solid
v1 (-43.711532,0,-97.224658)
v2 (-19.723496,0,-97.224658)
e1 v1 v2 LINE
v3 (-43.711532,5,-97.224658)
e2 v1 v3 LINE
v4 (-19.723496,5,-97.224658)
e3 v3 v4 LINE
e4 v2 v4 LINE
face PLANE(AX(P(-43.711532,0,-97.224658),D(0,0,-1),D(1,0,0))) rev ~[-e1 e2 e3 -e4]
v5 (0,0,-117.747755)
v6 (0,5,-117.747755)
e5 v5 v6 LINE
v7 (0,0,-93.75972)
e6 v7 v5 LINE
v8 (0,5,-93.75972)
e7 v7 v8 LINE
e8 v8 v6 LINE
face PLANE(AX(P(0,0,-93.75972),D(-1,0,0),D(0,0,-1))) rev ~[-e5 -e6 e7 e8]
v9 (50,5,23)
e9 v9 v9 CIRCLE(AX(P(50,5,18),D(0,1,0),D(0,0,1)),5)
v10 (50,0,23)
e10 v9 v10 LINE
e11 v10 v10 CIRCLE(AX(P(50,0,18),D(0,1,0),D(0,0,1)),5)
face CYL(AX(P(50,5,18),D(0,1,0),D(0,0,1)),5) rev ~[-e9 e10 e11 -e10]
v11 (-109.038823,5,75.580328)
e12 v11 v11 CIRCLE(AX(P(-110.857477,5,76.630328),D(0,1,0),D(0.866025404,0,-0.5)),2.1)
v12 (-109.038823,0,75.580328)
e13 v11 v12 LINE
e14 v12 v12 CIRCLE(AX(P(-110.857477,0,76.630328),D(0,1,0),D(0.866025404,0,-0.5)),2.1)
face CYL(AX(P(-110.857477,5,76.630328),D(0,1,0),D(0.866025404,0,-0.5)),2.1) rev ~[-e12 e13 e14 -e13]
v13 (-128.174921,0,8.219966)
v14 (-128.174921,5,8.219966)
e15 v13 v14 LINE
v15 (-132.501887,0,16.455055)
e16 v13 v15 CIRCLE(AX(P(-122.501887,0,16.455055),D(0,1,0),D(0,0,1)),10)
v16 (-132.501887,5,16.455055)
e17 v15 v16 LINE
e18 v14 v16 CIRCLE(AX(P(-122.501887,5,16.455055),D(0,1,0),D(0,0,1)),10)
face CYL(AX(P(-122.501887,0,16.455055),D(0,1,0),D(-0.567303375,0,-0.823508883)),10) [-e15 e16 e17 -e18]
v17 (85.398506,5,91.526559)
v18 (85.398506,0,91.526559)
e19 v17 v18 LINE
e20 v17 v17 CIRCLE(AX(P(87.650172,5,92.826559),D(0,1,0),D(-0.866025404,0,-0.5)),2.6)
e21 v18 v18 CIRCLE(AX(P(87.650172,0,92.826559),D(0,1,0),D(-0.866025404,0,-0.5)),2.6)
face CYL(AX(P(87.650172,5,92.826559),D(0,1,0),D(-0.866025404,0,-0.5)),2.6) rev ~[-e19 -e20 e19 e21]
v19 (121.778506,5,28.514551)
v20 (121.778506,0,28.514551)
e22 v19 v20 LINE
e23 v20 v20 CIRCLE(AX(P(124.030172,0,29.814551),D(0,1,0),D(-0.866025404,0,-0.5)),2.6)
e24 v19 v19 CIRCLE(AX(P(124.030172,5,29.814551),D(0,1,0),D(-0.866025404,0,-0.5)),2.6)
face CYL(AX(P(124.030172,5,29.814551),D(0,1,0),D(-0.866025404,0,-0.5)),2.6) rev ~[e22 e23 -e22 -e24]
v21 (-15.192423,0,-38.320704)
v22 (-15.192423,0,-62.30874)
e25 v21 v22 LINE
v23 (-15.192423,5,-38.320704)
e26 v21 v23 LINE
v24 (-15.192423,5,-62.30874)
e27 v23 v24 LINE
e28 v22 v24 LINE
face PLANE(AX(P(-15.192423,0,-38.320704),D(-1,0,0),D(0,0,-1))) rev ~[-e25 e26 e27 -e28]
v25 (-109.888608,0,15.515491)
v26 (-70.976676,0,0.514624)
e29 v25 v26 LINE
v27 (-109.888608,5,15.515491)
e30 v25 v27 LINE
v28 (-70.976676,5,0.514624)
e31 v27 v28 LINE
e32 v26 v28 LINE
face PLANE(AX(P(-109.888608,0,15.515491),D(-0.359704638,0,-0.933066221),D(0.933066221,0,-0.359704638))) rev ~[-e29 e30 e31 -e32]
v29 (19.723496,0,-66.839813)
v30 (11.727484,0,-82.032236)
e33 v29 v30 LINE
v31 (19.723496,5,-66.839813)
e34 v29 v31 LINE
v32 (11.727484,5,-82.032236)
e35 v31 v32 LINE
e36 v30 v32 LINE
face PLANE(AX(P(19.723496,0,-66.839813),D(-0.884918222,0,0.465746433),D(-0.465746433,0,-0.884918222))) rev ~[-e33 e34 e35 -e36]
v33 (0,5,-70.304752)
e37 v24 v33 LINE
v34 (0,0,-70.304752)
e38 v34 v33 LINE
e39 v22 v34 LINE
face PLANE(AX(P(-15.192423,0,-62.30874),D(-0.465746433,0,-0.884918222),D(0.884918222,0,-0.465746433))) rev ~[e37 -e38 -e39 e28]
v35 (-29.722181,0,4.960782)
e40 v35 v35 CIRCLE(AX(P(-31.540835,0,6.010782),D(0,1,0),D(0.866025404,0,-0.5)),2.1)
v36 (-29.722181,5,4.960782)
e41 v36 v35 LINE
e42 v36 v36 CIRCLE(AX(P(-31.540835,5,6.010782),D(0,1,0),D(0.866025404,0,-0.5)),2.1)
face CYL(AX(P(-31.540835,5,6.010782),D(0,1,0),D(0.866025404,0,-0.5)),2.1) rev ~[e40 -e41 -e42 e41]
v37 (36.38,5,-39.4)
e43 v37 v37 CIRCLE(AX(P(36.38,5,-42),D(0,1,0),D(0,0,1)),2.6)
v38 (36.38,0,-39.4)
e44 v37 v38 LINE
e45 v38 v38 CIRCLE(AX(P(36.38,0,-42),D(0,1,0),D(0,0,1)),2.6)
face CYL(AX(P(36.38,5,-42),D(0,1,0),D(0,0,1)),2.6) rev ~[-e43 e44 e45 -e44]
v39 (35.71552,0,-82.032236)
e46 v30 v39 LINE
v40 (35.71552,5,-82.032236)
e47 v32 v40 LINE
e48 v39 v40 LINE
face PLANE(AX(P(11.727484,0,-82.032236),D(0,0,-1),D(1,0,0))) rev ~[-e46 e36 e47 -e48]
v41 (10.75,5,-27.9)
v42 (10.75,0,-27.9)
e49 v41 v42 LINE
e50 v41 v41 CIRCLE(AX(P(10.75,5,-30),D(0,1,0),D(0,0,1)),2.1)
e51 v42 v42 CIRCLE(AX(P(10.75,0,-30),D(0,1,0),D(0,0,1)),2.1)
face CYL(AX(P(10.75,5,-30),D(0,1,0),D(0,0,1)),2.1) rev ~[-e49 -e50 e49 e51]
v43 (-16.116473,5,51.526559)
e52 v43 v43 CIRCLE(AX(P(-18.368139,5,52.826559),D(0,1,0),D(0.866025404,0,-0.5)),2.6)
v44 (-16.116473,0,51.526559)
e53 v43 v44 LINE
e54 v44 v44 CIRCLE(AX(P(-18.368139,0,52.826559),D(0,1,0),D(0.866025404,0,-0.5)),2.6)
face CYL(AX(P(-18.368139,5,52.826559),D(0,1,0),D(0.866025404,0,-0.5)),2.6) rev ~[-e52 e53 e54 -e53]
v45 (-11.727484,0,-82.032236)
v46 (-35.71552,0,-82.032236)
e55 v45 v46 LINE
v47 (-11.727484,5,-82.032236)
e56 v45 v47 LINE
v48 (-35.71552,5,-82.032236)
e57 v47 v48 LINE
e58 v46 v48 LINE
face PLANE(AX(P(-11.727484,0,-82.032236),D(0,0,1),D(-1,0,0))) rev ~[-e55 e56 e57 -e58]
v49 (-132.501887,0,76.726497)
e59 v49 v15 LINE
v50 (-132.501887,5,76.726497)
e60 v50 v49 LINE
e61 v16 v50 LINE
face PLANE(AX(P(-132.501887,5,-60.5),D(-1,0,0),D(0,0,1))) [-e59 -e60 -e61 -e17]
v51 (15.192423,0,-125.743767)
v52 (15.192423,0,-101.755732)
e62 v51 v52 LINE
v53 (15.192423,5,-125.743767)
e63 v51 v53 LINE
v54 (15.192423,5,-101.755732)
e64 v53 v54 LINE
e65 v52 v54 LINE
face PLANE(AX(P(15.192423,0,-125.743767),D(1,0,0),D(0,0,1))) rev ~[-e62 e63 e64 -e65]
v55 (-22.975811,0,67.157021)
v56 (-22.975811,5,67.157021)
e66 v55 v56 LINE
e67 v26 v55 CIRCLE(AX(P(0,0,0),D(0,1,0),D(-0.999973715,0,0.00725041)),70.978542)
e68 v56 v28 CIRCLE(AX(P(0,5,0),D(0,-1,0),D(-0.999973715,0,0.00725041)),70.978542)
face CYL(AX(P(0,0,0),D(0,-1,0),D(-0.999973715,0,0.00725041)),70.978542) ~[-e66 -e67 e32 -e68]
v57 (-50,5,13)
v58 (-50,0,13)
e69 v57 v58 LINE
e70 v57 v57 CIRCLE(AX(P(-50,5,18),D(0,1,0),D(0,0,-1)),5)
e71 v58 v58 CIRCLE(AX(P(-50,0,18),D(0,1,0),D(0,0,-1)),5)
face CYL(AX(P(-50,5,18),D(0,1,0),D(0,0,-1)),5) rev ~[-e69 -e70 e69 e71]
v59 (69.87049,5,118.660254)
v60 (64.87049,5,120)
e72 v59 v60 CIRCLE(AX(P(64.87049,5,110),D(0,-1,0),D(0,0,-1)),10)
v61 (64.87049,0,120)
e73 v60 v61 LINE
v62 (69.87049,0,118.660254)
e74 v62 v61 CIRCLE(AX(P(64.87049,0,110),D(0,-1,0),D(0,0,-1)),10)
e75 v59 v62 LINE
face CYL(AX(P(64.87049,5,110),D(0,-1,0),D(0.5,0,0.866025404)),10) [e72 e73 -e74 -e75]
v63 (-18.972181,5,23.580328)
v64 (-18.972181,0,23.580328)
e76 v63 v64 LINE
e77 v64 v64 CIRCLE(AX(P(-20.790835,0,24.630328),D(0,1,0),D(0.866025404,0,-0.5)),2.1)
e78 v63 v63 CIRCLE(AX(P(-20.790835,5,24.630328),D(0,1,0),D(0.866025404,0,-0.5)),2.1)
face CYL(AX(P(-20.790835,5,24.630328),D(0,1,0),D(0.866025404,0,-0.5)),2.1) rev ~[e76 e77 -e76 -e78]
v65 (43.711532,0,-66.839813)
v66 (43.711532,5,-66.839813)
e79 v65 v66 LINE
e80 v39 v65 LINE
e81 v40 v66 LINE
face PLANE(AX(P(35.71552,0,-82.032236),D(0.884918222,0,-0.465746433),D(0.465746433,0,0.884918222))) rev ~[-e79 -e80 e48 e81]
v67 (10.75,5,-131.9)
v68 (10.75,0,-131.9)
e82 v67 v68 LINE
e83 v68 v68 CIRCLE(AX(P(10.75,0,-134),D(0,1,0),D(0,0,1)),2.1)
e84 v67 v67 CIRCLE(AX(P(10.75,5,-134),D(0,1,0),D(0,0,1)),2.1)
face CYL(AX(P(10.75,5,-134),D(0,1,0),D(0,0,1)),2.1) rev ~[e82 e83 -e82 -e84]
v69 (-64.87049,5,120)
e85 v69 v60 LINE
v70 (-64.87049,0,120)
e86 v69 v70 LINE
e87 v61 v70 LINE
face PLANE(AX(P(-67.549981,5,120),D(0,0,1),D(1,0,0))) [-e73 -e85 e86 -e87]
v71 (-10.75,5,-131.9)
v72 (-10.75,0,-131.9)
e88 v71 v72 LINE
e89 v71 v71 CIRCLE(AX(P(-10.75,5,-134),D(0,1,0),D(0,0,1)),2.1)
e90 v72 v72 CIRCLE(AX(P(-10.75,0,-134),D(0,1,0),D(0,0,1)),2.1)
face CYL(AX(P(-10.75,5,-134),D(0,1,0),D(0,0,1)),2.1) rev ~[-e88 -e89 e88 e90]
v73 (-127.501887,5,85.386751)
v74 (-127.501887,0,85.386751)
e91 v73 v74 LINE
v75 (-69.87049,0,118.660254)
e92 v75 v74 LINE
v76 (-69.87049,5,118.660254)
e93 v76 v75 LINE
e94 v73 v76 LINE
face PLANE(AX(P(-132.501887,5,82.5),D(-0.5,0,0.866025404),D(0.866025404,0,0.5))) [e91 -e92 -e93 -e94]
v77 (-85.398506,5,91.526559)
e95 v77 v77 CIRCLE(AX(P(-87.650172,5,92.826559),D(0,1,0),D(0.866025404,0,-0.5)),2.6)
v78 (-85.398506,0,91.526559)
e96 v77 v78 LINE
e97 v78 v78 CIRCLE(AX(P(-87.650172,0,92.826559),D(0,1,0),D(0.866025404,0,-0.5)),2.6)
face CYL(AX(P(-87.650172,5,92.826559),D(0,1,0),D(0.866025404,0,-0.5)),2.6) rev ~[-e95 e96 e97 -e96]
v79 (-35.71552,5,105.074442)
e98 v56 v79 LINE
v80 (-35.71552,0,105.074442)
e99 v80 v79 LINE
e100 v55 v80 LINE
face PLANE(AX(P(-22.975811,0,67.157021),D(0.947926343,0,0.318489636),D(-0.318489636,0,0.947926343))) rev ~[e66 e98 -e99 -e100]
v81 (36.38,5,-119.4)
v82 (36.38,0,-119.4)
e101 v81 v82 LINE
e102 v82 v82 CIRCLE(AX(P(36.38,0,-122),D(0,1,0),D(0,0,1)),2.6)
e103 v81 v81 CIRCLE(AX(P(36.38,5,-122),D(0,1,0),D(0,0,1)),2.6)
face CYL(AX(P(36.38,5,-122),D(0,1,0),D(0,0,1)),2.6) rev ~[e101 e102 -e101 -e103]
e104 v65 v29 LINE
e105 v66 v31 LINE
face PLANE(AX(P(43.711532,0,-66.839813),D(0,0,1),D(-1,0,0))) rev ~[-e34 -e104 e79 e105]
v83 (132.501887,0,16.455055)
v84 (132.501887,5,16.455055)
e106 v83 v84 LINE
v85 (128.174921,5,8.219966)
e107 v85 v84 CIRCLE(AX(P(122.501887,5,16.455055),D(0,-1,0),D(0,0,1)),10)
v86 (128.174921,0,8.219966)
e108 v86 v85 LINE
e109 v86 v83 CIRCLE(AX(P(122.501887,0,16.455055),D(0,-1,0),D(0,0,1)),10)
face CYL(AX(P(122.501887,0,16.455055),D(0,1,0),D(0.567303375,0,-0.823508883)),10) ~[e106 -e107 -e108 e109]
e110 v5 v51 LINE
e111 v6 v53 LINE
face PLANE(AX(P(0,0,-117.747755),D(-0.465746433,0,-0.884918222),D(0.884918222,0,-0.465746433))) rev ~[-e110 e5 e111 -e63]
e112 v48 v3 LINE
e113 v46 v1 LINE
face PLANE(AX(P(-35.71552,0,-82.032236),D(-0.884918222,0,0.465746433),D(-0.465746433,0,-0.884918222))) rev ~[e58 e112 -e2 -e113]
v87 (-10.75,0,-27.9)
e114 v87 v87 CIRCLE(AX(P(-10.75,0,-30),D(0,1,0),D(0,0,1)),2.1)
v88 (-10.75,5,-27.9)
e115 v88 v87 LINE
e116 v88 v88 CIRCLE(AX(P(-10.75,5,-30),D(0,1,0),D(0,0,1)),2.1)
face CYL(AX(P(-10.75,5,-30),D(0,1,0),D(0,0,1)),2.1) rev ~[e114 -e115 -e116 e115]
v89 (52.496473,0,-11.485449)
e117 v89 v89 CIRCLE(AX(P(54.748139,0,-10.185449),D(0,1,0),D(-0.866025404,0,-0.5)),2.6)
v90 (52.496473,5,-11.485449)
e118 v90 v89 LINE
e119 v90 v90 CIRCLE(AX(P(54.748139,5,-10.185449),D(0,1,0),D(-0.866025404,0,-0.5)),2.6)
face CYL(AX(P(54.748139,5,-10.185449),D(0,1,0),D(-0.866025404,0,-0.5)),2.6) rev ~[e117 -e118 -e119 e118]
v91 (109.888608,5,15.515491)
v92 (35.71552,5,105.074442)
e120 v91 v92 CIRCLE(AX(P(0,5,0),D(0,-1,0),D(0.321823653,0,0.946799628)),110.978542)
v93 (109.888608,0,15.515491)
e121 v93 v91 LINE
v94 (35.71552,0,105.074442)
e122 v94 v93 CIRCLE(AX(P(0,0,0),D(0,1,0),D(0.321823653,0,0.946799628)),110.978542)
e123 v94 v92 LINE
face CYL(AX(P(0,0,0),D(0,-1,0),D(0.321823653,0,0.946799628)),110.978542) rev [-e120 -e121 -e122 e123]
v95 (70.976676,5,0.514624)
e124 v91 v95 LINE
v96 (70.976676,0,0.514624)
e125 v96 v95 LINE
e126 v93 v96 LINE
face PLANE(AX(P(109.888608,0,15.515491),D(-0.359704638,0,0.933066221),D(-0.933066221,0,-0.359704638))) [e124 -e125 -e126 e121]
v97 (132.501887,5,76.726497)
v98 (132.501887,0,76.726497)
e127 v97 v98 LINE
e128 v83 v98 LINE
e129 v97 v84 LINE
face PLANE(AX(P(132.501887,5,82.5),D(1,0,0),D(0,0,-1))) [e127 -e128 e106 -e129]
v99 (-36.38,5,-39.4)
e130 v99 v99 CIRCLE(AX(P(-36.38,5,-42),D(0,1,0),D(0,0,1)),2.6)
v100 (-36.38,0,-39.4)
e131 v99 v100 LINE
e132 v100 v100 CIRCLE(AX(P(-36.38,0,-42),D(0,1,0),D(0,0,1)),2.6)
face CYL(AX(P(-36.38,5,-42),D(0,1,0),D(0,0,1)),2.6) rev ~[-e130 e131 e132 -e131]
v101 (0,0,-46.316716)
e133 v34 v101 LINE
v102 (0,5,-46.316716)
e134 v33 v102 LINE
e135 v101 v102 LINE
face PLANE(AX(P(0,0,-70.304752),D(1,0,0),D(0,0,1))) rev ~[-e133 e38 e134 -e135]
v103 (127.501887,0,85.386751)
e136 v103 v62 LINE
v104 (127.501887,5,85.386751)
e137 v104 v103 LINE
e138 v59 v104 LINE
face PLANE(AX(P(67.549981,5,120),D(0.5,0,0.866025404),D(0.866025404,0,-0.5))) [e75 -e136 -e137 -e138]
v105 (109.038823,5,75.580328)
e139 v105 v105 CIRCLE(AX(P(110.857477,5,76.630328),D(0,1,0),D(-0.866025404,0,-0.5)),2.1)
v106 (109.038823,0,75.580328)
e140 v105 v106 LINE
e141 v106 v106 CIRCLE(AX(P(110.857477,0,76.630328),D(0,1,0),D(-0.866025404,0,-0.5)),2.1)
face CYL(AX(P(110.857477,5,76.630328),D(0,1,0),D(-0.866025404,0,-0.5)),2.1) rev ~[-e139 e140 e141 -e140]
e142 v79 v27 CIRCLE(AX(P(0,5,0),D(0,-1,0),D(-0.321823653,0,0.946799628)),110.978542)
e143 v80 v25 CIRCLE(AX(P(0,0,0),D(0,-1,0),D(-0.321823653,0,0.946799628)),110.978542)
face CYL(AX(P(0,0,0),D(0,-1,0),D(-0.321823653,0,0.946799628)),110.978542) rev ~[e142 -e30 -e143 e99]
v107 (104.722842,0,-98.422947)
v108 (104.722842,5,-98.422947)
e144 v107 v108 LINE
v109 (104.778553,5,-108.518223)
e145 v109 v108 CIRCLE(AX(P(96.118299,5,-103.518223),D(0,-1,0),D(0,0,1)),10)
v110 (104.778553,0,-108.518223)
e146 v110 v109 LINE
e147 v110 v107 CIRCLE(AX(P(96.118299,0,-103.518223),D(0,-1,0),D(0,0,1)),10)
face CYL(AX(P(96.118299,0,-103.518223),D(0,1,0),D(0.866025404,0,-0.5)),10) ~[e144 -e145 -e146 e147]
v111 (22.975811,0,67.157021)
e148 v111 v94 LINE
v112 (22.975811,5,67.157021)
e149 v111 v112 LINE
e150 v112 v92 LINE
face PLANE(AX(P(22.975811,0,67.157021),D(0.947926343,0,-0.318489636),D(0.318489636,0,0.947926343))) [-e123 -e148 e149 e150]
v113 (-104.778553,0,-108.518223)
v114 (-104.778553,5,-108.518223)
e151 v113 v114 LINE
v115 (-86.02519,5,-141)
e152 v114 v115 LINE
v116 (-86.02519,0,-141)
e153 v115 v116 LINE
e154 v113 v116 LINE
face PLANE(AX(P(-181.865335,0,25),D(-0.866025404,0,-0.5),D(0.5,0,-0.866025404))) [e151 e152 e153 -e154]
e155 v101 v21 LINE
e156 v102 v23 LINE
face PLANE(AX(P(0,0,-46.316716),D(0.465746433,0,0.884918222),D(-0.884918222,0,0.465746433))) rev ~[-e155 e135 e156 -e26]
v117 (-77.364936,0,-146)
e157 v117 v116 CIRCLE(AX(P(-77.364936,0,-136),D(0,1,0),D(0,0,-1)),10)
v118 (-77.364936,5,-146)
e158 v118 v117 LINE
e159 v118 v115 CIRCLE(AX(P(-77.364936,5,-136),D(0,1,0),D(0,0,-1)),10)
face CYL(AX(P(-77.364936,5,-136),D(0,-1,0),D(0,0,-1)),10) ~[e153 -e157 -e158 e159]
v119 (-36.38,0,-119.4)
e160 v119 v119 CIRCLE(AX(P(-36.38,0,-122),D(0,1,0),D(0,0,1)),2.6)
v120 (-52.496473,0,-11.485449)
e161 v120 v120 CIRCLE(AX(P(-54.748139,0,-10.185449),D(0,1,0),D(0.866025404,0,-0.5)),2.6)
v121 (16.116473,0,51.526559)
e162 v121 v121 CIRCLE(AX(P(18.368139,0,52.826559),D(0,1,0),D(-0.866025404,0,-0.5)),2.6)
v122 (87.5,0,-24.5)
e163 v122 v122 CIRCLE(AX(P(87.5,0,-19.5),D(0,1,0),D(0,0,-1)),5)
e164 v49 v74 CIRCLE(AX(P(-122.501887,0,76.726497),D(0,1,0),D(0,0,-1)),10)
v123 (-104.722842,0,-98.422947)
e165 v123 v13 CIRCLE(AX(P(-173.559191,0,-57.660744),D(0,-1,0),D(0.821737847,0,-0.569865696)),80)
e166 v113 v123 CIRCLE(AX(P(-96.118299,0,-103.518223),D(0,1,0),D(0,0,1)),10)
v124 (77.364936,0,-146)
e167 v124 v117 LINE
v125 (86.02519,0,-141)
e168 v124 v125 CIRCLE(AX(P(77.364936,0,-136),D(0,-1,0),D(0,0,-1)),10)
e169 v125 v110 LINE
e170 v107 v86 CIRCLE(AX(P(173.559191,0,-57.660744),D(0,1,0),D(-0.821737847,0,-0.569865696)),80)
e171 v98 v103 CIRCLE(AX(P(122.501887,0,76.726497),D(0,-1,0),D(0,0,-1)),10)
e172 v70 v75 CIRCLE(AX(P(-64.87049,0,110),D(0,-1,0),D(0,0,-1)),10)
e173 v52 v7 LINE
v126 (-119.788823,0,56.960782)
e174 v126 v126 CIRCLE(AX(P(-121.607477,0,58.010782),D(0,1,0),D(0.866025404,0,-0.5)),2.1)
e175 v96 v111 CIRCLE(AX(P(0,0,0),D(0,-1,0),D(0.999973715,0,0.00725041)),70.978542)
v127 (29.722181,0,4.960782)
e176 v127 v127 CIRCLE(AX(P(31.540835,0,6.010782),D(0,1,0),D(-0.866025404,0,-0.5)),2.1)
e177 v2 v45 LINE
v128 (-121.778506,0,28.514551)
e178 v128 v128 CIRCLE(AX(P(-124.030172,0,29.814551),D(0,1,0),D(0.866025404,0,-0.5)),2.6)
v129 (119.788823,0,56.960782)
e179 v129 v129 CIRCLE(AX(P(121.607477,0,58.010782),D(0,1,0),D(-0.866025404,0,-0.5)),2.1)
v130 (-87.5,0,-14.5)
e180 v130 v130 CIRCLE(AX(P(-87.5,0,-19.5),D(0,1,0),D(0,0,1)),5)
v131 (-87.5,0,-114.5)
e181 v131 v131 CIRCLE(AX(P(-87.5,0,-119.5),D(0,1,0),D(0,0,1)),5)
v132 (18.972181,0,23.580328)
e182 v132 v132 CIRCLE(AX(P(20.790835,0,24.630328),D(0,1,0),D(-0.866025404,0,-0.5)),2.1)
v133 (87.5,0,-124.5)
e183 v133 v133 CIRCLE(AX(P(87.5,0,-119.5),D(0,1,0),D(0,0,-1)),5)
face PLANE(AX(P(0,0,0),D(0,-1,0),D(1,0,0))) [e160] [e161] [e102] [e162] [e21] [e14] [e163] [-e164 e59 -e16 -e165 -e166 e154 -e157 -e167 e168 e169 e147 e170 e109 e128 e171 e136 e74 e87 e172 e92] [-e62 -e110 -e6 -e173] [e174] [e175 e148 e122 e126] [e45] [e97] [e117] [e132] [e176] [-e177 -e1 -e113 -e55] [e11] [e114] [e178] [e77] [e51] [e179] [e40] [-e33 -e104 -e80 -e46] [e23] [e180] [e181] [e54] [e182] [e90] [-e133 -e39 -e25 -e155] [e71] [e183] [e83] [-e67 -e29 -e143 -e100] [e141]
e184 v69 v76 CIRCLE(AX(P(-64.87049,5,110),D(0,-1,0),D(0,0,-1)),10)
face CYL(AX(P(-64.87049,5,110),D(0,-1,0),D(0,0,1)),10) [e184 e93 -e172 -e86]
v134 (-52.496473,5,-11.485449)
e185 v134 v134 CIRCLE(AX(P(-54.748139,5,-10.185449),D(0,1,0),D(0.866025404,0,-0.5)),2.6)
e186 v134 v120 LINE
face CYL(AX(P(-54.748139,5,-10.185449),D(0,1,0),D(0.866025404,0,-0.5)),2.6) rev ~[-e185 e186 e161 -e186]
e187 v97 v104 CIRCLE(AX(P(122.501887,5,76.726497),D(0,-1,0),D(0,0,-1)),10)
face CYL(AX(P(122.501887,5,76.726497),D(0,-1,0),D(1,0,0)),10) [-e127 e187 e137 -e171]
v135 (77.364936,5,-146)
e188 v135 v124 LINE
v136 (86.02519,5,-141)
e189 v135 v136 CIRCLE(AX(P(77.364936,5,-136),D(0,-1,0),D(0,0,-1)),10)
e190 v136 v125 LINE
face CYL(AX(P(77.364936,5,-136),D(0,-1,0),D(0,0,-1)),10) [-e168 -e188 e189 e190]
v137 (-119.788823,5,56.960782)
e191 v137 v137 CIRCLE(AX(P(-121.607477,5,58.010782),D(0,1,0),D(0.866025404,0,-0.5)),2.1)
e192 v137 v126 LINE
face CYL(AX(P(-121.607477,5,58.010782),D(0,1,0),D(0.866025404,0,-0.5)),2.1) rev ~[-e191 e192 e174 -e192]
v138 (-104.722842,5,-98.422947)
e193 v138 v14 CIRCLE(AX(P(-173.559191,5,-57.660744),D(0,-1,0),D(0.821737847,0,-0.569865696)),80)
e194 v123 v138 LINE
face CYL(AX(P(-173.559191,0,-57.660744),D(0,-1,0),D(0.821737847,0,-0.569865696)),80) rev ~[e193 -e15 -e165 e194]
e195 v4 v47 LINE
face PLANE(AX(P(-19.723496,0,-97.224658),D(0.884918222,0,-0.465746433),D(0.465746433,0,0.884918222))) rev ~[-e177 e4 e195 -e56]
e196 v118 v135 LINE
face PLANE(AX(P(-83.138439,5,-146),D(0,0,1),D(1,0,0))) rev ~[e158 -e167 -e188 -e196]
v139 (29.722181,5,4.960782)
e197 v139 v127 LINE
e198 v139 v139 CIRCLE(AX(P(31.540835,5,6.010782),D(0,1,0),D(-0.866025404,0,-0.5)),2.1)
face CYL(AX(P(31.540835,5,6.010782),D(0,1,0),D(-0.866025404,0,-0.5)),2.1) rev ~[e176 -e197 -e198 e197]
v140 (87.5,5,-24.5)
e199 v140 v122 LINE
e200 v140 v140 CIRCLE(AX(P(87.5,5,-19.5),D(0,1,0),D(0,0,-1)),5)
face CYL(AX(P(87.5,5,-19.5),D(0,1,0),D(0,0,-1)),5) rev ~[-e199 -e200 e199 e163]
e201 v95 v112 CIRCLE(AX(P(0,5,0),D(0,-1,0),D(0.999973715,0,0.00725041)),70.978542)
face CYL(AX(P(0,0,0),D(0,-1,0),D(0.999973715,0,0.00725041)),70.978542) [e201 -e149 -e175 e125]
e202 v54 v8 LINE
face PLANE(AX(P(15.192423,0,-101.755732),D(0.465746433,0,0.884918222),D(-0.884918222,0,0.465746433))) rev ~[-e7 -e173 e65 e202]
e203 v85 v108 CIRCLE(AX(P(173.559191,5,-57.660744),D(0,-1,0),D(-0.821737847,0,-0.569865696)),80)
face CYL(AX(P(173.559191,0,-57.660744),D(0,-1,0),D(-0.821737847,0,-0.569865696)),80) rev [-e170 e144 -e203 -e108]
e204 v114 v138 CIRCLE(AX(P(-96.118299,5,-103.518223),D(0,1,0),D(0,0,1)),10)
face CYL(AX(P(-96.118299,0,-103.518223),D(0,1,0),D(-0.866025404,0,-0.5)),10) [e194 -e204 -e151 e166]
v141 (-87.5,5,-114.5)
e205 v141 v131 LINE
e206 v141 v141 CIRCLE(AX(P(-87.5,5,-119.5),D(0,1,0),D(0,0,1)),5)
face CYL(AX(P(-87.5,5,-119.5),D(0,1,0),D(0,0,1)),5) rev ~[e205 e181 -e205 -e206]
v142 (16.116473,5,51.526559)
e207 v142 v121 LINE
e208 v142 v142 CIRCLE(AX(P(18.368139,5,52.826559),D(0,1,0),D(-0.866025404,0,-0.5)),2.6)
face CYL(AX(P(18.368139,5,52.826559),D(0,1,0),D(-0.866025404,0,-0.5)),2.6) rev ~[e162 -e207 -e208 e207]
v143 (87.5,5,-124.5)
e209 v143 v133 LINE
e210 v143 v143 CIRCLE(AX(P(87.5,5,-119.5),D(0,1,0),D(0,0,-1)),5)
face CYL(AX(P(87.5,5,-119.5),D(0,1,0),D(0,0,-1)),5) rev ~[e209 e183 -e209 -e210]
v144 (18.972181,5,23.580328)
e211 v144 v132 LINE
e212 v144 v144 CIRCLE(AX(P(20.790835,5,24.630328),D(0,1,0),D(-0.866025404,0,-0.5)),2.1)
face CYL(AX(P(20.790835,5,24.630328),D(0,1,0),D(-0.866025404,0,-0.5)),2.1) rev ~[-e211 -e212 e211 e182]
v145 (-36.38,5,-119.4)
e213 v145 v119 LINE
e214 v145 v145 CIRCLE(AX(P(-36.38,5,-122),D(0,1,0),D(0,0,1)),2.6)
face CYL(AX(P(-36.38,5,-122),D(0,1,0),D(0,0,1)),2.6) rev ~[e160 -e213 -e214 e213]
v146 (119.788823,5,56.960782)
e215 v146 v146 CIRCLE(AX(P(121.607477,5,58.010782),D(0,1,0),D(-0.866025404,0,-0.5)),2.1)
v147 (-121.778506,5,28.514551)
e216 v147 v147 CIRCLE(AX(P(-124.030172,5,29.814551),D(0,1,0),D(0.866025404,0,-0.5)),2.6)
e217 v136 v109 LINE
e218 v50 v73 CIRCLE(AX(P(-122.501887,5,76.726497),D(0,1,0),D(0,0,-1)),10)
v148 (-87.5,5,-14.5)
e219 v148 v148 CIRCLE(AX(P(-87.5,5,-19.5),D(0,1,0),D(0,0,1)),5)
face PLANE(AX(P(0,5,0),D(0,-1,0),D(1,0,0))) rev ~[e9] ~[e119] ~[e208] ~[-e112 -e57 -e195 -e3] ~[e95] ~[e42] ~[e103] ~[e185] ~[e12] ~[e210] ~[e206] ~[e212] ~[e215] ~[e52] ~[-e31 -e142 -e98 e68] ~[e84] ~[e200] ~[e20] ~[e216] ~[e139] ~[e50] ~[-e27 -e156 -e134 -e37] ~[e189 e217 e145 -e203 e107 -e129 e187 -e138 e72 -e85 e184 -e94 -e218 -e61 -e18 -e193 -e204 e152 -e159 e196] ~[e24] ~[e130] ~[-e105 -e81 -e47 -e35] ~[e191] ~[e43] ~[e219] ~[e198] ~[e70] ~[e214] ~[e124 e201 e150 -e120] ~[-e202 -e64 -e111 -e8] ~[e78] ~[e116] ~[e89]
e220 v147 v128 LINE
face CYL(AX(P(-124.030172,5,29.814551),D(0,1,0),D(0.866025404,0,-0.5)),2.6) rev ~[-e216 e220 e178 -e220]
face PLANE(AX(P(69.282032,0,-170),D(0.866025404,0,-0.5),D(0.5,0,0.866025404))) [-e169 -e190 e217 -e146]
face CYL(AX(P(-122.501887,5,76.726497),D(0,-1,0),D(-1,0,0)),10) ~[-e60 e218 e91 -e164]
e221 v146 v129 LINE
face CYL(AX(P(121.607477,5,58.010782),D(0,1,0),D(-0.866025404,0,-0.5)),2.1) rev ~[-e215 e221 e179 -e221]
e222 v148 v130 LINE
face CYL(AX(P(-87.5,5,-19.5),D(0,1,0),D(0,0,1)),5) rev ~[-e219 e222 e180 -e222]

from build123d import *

# Parameters (mm, degrees)
EXTRUDE_1_DEPTH          = 5
SKETCH_2_R               = 2.1
SKETCH_2_R_2             = 2.6
CUT_EXTRUDE_1_DEPTH      = 10
PATTERN_CIRCULAR_1_COUNT = 3
EXTRUDE_3_DEPTH          = 5
SKETCH_6_R               = 5
CUT_EXTRUDE_2_DEPTH      = 285.979522771
CUT_EXTRUDE_4_DEPTH      = 285.979522771
CUT_EXTRUDE_5_DEPTH      = 242.721592744
CUT_EXTRUDE_6_DEPTH      = 10
FILLET_1_R               = 10
FILLET_2_R               = 10


with BuildPart() as part:
    # 草图1 → 凸台-拉伸1 (new body)
    with BuildSketch(Plane(origin=(0, 0, 0), x_dir=(1, 0, 0), z_dir=(0, 1, 0))):
        with BuildLine():
            Line((-34.641016151, 150), (-147.224318643, -45))
            ThreePointArc((-147.224318643, -45), (-147.224318643, -85), (-112.583302492, -105))
            Line((-112.583302492, -105), (112.583302492, -105))
            ThreePointArc((112.583302492, -105), (147.224318643, -85), (147.224318643, -45))
            Line((147.224318643, -45), (34.641016151, 150))
            ThreePointArc((34.641016151, 150), (0, 170), (-34.641016151, 150))
        make_face()
    extrude(amount=EXTRUDE_1_DEPTH)

    # 草图2 → 切除-拉伸1 (cut)
    with BuildSketch(Plane(origin=(0, 5, 0), x_dir=(1, 0, 0), z_dir=(0, 1, 0))):
        with Locations(Location((-10.75, 30, 0), (0, 0, 270))):
            Circle(SKETCH_2_R)
        with Locations(Location((-10.75, 134, 0), (0, 0, 270))):
            Circle(SKETCH_2_R)
        with Locations(Location((10.75, 30, 0), (0, 0, 270))):
            Circle(SKETCH_2_R)
        with Locations(Location((10.75, 134, 0), (0, 0, 270))):
            Circle(SKETCH_2_R)
        with Locations(Location((-36.38, 42, 0), (0, 0, 270))):
            Circle(SKETCH_2_R_2)
        with Locations(Location((-36.38, 122, 0), (0, 0, 270))):
            Circle(SKETCH_2_R_2)
        with Locations(Location((36.38, 122, 0), (0, 0, 270))):
            Circle(SKETCH_2_R_2)
        with Locations(Location((36.38, 42, 0), (0, 0, 270))):
            Circle(SKETCH_2_R_2)
    cut_extrude_1 = extrude(amount=-CUT_EXTRUDE_1_DEPTH, mode=Mode.SUBTRACT)

    # 阵列(圆周)1: 切除-拉伸1 ×3 about axis
    pattern_circular_1_axis = Axis((0, 0, 0.213703285), (0, 1, 0))
    for i in range(1, PATTERN_CIRCULAR_1_COUNT):
        add(cut_extrude_1.rotate(pattern_circular_1_axis, i * 360 / PATTERN_CIRCULAR_1_COUNT), mode=Mode.SUBTRACT)

    # 草图5 → 凸台-拉伸3 (add)
    with BuildSketch(Plane.XZ):
        with BuildLine():
            Line((69.282032303, -170), (181.865334795, 25))
            ThreePointArc((181.865334795, 25), (181.865334795, 105), (112.583302492, 145))
            Line((112.583302492, 145), (-112.583302492, 145))
            ThreePointArc((-112.583302492, 145), (-181.865334795, 105), (-181.865334795, 25))
            Line((-181.865334795, 25), (-69.282032303, -170))
            ThreePointArc((-69.282032303, -170), (0, -210), (69.282032303, -170))
        make_face()
        with BuildLine():
            Line((-147.224318643, 45), (-34.641016151, -150))
            ThreePointArc((-34.641016151, -150), (0, -170), (34.641016151, -150))
            Line((34.641016151, -150), (147.224318643, 45))
            ThreePointArc((147.224318643, 45), (147.224318643, 85), (112.583302492, 105))
            Line((112.583302492, 105), (-112.583302492, 105))
            ThreePointArc((-112.583302492, 105), (-147.224318643, 85), (-147.224318643, 45))
        make_face(mode=Mode.SUBTRACT)
    extrude(amount=-EXTRUDE_3_DEPTH)

    # 草图6 → 切除-拉伸2 (cut, through all)
    with BuildSketch(Plane(origin=(0, 5, 0), x_dir=(1, 0, 0), z_dir=(0, 1, 0))):
        with Locations(Location((-87.5, 119.5, 0), (0, 0, 270))):
            Circle(SKETCH_6_R)
        with Locations(Location((-87.5, 19.5, 0), (0, 0, 270))):
            Circle(SKETCH_6_R)
        with Locations(Location((87.5, 19.5, 0), (0, 0, 90))):
            Circle(SKETCH_6_R)
        with Locations(Location((87.5, 119.5, 0), (0, 0, 90))):
            Circle(SKETCH_6_R)
        with Locations(Location((-50, -18, 0), (0, 0, 90))):
            Circle(SKETCH_6_R)
        with Locations(Location((50, -18, 0), (0, 0, 270))):
            Circle(SKETCH_6_R)
    extrude(amount=-CUT_EXTRUDE_2_DEPTH, mode=Mode.SUBTRACT)

    # 草图8 → 切除-拉伸4 (cut, through all)
    with BuildSketch(Plane(origin=(0, 5, 0), x_dir=(1, 0, 0), z_dir=(0, 1, 0))):
        with BuildLine():
            Line((-83.138438763, 146), (83.138438763, 146))
            Line((83.138438763, 146), (69.282032303, 170))
            ThreePointArc((69.282032303, 170), (0, 210), (-69.282032303, 170))
            Line((-69.282032303, 170), (-83.138438763, 146))
        make_face()
    extrude(amount=-CUT_EXTRUDE_4_DEPTH, mode=Mode.SUBTRACT)

    # 草图9 → 切除-拉伸5 (cut, through all)
    with BuildSketch(Plane(origin=(0, 5, 0), x_dir=(1, 0, 0), z_dir=(0, 1, 0))):
        with BuildLine():
            Line((-132.501886779, 60.5), (-132.501886779, -82.5))
            Line((-132.501886779, -82.5), (-67.549981495, -120))
            Line((-67.549981495, -120), (67.549981495, -120))
            Line((67.549981495, -120), (132.501886779, -82.5))
            Line((132.501886779, -82.5), (132.501886779, 60.5))
            Line((132.501886779, 60.5), (181.865334795, -25))
            ThreePointArc((181.865334795, -25), (181.865334795, -105), (112.583302492, -145))
            Line((112.583302492, -145), (-112.583302492, -145))
            ThreePointArc((-112.583302492, -145), (-181.865334795, -105), (-181.865334795, -25))
            Line((-181.865334795, -25), (-132.501886779, 60.5))
        make_face()
    extrude(amount=-CUT_EXTRUDE_5_DEPTH, mode=Mode.SUBTRACT)

    # 草图10 → 切除-拉伸6 (cut)
    with BuildSketch(Plane.XZ):
        with BuildLine():
            Line((-132.501886779, 11), (-132.501886779, -60.5))
            Line((-132.501886779, -60.5), (-107.820162771, -103.25))
            ThreePointArc((-107.820162771, -103.25), (-95.363092594, -40.767838354), (-132.501886779, 11))
        make_face()
        with BuildLine():
            Line((132.501886779, 11), (132.501886779, -60.5))
            Line((132.501886779, -60.5), (107.820162771, -103.25))
            ThreePointArc((107.820162771, -103.25), (95.363092594, -40.767838354), (132.501886779, 11))
        make_face()
        Polygon((0, -93.759719881), (0, -117.74775549), (15.192422552, -125.743767359), (15.192422552, -101.755731751), align=None)
        Polygon((-11.727484075, -82.032235806), (-35.715519683, -82.032235806), (-43.711531553, -97.224658358), (-19.723495945, -97.224658358), align=None)
        Polygon((0, -70.304751731), (0, -46.316716123), (-15.192422552, -38.320704253), (-15.192422552, -62.308739862), align=None)
        Polygon((11.727484075, -82.032235806), (35.715519683, -82.032235806), (43.711531553, -66.839813254), (19.723495945, -66.839813254), align=None)
        with BuildLine():
            Line((-109.888608331, 15.515490775), (-70.976675957, 0.514623515))
            ThreePointArc((-70.976675957, 0.514623515), (-57.594007807, 41.483534468), (-22.975810906, 67.157021081))
            Line((-22.975810906, 67.157021081), (-35.715519683, 105.074441939))
            ThreePointArc((-35.715519683, 105.074441939), (-85.471293176, 70.78767363), (-109.888608331, 15.515490775))
        make_face()
        with BuildLine():
            Line((109.888608331, 15.515490775), (70.976675957, 0.514623515))
            ThreePointArc((70.976675957, 0.514623515), (57.594007807, 41.483534468), (22.975810906, 67.157021081))
            Line((22.975810906, 67.157021081), (35.715519683, 105.074441939))
            ThreePointArc((35.715519683, 105.074441939), (85.471293176, 70.78767363), (109.888608331, 15.515490775))
        make_face()
    extrude(amount=-CUT_EXTRUDE_6_DEPTH, mode=Mode.SUBTRACT)

    # 圆角1
    fillet_1_edges = [part.edges().sort_by_distance(p)[0] for p in [
        (-83.138438763, 2.5, -146),
        (-132.501886779, 2.5, 82.5),
        (-132.501886779, 2.5, 11),
        (-107.820162771, 2.5, -103.25),
    ]]
    fillet(fillet_1_edges, radius=FILLET_1_R)

    # 圆角2
    fillet_2_edges = [part.edges().sort_by_distance(p)[0] for p in [
        (83.138438763, 2.5, -146),
        (-67.549981495, 2.5, 120),
        (67.549981495, 2.5, 120),
        (132.501886779, 2.5, 82.5),
        (132.501886779, 2.5, 11),
        (107.820162771, 2.5, -103.25),
    ]]
    fillet(fillet_2_edges, radius=FILLET_2_R)


solid = part.part
